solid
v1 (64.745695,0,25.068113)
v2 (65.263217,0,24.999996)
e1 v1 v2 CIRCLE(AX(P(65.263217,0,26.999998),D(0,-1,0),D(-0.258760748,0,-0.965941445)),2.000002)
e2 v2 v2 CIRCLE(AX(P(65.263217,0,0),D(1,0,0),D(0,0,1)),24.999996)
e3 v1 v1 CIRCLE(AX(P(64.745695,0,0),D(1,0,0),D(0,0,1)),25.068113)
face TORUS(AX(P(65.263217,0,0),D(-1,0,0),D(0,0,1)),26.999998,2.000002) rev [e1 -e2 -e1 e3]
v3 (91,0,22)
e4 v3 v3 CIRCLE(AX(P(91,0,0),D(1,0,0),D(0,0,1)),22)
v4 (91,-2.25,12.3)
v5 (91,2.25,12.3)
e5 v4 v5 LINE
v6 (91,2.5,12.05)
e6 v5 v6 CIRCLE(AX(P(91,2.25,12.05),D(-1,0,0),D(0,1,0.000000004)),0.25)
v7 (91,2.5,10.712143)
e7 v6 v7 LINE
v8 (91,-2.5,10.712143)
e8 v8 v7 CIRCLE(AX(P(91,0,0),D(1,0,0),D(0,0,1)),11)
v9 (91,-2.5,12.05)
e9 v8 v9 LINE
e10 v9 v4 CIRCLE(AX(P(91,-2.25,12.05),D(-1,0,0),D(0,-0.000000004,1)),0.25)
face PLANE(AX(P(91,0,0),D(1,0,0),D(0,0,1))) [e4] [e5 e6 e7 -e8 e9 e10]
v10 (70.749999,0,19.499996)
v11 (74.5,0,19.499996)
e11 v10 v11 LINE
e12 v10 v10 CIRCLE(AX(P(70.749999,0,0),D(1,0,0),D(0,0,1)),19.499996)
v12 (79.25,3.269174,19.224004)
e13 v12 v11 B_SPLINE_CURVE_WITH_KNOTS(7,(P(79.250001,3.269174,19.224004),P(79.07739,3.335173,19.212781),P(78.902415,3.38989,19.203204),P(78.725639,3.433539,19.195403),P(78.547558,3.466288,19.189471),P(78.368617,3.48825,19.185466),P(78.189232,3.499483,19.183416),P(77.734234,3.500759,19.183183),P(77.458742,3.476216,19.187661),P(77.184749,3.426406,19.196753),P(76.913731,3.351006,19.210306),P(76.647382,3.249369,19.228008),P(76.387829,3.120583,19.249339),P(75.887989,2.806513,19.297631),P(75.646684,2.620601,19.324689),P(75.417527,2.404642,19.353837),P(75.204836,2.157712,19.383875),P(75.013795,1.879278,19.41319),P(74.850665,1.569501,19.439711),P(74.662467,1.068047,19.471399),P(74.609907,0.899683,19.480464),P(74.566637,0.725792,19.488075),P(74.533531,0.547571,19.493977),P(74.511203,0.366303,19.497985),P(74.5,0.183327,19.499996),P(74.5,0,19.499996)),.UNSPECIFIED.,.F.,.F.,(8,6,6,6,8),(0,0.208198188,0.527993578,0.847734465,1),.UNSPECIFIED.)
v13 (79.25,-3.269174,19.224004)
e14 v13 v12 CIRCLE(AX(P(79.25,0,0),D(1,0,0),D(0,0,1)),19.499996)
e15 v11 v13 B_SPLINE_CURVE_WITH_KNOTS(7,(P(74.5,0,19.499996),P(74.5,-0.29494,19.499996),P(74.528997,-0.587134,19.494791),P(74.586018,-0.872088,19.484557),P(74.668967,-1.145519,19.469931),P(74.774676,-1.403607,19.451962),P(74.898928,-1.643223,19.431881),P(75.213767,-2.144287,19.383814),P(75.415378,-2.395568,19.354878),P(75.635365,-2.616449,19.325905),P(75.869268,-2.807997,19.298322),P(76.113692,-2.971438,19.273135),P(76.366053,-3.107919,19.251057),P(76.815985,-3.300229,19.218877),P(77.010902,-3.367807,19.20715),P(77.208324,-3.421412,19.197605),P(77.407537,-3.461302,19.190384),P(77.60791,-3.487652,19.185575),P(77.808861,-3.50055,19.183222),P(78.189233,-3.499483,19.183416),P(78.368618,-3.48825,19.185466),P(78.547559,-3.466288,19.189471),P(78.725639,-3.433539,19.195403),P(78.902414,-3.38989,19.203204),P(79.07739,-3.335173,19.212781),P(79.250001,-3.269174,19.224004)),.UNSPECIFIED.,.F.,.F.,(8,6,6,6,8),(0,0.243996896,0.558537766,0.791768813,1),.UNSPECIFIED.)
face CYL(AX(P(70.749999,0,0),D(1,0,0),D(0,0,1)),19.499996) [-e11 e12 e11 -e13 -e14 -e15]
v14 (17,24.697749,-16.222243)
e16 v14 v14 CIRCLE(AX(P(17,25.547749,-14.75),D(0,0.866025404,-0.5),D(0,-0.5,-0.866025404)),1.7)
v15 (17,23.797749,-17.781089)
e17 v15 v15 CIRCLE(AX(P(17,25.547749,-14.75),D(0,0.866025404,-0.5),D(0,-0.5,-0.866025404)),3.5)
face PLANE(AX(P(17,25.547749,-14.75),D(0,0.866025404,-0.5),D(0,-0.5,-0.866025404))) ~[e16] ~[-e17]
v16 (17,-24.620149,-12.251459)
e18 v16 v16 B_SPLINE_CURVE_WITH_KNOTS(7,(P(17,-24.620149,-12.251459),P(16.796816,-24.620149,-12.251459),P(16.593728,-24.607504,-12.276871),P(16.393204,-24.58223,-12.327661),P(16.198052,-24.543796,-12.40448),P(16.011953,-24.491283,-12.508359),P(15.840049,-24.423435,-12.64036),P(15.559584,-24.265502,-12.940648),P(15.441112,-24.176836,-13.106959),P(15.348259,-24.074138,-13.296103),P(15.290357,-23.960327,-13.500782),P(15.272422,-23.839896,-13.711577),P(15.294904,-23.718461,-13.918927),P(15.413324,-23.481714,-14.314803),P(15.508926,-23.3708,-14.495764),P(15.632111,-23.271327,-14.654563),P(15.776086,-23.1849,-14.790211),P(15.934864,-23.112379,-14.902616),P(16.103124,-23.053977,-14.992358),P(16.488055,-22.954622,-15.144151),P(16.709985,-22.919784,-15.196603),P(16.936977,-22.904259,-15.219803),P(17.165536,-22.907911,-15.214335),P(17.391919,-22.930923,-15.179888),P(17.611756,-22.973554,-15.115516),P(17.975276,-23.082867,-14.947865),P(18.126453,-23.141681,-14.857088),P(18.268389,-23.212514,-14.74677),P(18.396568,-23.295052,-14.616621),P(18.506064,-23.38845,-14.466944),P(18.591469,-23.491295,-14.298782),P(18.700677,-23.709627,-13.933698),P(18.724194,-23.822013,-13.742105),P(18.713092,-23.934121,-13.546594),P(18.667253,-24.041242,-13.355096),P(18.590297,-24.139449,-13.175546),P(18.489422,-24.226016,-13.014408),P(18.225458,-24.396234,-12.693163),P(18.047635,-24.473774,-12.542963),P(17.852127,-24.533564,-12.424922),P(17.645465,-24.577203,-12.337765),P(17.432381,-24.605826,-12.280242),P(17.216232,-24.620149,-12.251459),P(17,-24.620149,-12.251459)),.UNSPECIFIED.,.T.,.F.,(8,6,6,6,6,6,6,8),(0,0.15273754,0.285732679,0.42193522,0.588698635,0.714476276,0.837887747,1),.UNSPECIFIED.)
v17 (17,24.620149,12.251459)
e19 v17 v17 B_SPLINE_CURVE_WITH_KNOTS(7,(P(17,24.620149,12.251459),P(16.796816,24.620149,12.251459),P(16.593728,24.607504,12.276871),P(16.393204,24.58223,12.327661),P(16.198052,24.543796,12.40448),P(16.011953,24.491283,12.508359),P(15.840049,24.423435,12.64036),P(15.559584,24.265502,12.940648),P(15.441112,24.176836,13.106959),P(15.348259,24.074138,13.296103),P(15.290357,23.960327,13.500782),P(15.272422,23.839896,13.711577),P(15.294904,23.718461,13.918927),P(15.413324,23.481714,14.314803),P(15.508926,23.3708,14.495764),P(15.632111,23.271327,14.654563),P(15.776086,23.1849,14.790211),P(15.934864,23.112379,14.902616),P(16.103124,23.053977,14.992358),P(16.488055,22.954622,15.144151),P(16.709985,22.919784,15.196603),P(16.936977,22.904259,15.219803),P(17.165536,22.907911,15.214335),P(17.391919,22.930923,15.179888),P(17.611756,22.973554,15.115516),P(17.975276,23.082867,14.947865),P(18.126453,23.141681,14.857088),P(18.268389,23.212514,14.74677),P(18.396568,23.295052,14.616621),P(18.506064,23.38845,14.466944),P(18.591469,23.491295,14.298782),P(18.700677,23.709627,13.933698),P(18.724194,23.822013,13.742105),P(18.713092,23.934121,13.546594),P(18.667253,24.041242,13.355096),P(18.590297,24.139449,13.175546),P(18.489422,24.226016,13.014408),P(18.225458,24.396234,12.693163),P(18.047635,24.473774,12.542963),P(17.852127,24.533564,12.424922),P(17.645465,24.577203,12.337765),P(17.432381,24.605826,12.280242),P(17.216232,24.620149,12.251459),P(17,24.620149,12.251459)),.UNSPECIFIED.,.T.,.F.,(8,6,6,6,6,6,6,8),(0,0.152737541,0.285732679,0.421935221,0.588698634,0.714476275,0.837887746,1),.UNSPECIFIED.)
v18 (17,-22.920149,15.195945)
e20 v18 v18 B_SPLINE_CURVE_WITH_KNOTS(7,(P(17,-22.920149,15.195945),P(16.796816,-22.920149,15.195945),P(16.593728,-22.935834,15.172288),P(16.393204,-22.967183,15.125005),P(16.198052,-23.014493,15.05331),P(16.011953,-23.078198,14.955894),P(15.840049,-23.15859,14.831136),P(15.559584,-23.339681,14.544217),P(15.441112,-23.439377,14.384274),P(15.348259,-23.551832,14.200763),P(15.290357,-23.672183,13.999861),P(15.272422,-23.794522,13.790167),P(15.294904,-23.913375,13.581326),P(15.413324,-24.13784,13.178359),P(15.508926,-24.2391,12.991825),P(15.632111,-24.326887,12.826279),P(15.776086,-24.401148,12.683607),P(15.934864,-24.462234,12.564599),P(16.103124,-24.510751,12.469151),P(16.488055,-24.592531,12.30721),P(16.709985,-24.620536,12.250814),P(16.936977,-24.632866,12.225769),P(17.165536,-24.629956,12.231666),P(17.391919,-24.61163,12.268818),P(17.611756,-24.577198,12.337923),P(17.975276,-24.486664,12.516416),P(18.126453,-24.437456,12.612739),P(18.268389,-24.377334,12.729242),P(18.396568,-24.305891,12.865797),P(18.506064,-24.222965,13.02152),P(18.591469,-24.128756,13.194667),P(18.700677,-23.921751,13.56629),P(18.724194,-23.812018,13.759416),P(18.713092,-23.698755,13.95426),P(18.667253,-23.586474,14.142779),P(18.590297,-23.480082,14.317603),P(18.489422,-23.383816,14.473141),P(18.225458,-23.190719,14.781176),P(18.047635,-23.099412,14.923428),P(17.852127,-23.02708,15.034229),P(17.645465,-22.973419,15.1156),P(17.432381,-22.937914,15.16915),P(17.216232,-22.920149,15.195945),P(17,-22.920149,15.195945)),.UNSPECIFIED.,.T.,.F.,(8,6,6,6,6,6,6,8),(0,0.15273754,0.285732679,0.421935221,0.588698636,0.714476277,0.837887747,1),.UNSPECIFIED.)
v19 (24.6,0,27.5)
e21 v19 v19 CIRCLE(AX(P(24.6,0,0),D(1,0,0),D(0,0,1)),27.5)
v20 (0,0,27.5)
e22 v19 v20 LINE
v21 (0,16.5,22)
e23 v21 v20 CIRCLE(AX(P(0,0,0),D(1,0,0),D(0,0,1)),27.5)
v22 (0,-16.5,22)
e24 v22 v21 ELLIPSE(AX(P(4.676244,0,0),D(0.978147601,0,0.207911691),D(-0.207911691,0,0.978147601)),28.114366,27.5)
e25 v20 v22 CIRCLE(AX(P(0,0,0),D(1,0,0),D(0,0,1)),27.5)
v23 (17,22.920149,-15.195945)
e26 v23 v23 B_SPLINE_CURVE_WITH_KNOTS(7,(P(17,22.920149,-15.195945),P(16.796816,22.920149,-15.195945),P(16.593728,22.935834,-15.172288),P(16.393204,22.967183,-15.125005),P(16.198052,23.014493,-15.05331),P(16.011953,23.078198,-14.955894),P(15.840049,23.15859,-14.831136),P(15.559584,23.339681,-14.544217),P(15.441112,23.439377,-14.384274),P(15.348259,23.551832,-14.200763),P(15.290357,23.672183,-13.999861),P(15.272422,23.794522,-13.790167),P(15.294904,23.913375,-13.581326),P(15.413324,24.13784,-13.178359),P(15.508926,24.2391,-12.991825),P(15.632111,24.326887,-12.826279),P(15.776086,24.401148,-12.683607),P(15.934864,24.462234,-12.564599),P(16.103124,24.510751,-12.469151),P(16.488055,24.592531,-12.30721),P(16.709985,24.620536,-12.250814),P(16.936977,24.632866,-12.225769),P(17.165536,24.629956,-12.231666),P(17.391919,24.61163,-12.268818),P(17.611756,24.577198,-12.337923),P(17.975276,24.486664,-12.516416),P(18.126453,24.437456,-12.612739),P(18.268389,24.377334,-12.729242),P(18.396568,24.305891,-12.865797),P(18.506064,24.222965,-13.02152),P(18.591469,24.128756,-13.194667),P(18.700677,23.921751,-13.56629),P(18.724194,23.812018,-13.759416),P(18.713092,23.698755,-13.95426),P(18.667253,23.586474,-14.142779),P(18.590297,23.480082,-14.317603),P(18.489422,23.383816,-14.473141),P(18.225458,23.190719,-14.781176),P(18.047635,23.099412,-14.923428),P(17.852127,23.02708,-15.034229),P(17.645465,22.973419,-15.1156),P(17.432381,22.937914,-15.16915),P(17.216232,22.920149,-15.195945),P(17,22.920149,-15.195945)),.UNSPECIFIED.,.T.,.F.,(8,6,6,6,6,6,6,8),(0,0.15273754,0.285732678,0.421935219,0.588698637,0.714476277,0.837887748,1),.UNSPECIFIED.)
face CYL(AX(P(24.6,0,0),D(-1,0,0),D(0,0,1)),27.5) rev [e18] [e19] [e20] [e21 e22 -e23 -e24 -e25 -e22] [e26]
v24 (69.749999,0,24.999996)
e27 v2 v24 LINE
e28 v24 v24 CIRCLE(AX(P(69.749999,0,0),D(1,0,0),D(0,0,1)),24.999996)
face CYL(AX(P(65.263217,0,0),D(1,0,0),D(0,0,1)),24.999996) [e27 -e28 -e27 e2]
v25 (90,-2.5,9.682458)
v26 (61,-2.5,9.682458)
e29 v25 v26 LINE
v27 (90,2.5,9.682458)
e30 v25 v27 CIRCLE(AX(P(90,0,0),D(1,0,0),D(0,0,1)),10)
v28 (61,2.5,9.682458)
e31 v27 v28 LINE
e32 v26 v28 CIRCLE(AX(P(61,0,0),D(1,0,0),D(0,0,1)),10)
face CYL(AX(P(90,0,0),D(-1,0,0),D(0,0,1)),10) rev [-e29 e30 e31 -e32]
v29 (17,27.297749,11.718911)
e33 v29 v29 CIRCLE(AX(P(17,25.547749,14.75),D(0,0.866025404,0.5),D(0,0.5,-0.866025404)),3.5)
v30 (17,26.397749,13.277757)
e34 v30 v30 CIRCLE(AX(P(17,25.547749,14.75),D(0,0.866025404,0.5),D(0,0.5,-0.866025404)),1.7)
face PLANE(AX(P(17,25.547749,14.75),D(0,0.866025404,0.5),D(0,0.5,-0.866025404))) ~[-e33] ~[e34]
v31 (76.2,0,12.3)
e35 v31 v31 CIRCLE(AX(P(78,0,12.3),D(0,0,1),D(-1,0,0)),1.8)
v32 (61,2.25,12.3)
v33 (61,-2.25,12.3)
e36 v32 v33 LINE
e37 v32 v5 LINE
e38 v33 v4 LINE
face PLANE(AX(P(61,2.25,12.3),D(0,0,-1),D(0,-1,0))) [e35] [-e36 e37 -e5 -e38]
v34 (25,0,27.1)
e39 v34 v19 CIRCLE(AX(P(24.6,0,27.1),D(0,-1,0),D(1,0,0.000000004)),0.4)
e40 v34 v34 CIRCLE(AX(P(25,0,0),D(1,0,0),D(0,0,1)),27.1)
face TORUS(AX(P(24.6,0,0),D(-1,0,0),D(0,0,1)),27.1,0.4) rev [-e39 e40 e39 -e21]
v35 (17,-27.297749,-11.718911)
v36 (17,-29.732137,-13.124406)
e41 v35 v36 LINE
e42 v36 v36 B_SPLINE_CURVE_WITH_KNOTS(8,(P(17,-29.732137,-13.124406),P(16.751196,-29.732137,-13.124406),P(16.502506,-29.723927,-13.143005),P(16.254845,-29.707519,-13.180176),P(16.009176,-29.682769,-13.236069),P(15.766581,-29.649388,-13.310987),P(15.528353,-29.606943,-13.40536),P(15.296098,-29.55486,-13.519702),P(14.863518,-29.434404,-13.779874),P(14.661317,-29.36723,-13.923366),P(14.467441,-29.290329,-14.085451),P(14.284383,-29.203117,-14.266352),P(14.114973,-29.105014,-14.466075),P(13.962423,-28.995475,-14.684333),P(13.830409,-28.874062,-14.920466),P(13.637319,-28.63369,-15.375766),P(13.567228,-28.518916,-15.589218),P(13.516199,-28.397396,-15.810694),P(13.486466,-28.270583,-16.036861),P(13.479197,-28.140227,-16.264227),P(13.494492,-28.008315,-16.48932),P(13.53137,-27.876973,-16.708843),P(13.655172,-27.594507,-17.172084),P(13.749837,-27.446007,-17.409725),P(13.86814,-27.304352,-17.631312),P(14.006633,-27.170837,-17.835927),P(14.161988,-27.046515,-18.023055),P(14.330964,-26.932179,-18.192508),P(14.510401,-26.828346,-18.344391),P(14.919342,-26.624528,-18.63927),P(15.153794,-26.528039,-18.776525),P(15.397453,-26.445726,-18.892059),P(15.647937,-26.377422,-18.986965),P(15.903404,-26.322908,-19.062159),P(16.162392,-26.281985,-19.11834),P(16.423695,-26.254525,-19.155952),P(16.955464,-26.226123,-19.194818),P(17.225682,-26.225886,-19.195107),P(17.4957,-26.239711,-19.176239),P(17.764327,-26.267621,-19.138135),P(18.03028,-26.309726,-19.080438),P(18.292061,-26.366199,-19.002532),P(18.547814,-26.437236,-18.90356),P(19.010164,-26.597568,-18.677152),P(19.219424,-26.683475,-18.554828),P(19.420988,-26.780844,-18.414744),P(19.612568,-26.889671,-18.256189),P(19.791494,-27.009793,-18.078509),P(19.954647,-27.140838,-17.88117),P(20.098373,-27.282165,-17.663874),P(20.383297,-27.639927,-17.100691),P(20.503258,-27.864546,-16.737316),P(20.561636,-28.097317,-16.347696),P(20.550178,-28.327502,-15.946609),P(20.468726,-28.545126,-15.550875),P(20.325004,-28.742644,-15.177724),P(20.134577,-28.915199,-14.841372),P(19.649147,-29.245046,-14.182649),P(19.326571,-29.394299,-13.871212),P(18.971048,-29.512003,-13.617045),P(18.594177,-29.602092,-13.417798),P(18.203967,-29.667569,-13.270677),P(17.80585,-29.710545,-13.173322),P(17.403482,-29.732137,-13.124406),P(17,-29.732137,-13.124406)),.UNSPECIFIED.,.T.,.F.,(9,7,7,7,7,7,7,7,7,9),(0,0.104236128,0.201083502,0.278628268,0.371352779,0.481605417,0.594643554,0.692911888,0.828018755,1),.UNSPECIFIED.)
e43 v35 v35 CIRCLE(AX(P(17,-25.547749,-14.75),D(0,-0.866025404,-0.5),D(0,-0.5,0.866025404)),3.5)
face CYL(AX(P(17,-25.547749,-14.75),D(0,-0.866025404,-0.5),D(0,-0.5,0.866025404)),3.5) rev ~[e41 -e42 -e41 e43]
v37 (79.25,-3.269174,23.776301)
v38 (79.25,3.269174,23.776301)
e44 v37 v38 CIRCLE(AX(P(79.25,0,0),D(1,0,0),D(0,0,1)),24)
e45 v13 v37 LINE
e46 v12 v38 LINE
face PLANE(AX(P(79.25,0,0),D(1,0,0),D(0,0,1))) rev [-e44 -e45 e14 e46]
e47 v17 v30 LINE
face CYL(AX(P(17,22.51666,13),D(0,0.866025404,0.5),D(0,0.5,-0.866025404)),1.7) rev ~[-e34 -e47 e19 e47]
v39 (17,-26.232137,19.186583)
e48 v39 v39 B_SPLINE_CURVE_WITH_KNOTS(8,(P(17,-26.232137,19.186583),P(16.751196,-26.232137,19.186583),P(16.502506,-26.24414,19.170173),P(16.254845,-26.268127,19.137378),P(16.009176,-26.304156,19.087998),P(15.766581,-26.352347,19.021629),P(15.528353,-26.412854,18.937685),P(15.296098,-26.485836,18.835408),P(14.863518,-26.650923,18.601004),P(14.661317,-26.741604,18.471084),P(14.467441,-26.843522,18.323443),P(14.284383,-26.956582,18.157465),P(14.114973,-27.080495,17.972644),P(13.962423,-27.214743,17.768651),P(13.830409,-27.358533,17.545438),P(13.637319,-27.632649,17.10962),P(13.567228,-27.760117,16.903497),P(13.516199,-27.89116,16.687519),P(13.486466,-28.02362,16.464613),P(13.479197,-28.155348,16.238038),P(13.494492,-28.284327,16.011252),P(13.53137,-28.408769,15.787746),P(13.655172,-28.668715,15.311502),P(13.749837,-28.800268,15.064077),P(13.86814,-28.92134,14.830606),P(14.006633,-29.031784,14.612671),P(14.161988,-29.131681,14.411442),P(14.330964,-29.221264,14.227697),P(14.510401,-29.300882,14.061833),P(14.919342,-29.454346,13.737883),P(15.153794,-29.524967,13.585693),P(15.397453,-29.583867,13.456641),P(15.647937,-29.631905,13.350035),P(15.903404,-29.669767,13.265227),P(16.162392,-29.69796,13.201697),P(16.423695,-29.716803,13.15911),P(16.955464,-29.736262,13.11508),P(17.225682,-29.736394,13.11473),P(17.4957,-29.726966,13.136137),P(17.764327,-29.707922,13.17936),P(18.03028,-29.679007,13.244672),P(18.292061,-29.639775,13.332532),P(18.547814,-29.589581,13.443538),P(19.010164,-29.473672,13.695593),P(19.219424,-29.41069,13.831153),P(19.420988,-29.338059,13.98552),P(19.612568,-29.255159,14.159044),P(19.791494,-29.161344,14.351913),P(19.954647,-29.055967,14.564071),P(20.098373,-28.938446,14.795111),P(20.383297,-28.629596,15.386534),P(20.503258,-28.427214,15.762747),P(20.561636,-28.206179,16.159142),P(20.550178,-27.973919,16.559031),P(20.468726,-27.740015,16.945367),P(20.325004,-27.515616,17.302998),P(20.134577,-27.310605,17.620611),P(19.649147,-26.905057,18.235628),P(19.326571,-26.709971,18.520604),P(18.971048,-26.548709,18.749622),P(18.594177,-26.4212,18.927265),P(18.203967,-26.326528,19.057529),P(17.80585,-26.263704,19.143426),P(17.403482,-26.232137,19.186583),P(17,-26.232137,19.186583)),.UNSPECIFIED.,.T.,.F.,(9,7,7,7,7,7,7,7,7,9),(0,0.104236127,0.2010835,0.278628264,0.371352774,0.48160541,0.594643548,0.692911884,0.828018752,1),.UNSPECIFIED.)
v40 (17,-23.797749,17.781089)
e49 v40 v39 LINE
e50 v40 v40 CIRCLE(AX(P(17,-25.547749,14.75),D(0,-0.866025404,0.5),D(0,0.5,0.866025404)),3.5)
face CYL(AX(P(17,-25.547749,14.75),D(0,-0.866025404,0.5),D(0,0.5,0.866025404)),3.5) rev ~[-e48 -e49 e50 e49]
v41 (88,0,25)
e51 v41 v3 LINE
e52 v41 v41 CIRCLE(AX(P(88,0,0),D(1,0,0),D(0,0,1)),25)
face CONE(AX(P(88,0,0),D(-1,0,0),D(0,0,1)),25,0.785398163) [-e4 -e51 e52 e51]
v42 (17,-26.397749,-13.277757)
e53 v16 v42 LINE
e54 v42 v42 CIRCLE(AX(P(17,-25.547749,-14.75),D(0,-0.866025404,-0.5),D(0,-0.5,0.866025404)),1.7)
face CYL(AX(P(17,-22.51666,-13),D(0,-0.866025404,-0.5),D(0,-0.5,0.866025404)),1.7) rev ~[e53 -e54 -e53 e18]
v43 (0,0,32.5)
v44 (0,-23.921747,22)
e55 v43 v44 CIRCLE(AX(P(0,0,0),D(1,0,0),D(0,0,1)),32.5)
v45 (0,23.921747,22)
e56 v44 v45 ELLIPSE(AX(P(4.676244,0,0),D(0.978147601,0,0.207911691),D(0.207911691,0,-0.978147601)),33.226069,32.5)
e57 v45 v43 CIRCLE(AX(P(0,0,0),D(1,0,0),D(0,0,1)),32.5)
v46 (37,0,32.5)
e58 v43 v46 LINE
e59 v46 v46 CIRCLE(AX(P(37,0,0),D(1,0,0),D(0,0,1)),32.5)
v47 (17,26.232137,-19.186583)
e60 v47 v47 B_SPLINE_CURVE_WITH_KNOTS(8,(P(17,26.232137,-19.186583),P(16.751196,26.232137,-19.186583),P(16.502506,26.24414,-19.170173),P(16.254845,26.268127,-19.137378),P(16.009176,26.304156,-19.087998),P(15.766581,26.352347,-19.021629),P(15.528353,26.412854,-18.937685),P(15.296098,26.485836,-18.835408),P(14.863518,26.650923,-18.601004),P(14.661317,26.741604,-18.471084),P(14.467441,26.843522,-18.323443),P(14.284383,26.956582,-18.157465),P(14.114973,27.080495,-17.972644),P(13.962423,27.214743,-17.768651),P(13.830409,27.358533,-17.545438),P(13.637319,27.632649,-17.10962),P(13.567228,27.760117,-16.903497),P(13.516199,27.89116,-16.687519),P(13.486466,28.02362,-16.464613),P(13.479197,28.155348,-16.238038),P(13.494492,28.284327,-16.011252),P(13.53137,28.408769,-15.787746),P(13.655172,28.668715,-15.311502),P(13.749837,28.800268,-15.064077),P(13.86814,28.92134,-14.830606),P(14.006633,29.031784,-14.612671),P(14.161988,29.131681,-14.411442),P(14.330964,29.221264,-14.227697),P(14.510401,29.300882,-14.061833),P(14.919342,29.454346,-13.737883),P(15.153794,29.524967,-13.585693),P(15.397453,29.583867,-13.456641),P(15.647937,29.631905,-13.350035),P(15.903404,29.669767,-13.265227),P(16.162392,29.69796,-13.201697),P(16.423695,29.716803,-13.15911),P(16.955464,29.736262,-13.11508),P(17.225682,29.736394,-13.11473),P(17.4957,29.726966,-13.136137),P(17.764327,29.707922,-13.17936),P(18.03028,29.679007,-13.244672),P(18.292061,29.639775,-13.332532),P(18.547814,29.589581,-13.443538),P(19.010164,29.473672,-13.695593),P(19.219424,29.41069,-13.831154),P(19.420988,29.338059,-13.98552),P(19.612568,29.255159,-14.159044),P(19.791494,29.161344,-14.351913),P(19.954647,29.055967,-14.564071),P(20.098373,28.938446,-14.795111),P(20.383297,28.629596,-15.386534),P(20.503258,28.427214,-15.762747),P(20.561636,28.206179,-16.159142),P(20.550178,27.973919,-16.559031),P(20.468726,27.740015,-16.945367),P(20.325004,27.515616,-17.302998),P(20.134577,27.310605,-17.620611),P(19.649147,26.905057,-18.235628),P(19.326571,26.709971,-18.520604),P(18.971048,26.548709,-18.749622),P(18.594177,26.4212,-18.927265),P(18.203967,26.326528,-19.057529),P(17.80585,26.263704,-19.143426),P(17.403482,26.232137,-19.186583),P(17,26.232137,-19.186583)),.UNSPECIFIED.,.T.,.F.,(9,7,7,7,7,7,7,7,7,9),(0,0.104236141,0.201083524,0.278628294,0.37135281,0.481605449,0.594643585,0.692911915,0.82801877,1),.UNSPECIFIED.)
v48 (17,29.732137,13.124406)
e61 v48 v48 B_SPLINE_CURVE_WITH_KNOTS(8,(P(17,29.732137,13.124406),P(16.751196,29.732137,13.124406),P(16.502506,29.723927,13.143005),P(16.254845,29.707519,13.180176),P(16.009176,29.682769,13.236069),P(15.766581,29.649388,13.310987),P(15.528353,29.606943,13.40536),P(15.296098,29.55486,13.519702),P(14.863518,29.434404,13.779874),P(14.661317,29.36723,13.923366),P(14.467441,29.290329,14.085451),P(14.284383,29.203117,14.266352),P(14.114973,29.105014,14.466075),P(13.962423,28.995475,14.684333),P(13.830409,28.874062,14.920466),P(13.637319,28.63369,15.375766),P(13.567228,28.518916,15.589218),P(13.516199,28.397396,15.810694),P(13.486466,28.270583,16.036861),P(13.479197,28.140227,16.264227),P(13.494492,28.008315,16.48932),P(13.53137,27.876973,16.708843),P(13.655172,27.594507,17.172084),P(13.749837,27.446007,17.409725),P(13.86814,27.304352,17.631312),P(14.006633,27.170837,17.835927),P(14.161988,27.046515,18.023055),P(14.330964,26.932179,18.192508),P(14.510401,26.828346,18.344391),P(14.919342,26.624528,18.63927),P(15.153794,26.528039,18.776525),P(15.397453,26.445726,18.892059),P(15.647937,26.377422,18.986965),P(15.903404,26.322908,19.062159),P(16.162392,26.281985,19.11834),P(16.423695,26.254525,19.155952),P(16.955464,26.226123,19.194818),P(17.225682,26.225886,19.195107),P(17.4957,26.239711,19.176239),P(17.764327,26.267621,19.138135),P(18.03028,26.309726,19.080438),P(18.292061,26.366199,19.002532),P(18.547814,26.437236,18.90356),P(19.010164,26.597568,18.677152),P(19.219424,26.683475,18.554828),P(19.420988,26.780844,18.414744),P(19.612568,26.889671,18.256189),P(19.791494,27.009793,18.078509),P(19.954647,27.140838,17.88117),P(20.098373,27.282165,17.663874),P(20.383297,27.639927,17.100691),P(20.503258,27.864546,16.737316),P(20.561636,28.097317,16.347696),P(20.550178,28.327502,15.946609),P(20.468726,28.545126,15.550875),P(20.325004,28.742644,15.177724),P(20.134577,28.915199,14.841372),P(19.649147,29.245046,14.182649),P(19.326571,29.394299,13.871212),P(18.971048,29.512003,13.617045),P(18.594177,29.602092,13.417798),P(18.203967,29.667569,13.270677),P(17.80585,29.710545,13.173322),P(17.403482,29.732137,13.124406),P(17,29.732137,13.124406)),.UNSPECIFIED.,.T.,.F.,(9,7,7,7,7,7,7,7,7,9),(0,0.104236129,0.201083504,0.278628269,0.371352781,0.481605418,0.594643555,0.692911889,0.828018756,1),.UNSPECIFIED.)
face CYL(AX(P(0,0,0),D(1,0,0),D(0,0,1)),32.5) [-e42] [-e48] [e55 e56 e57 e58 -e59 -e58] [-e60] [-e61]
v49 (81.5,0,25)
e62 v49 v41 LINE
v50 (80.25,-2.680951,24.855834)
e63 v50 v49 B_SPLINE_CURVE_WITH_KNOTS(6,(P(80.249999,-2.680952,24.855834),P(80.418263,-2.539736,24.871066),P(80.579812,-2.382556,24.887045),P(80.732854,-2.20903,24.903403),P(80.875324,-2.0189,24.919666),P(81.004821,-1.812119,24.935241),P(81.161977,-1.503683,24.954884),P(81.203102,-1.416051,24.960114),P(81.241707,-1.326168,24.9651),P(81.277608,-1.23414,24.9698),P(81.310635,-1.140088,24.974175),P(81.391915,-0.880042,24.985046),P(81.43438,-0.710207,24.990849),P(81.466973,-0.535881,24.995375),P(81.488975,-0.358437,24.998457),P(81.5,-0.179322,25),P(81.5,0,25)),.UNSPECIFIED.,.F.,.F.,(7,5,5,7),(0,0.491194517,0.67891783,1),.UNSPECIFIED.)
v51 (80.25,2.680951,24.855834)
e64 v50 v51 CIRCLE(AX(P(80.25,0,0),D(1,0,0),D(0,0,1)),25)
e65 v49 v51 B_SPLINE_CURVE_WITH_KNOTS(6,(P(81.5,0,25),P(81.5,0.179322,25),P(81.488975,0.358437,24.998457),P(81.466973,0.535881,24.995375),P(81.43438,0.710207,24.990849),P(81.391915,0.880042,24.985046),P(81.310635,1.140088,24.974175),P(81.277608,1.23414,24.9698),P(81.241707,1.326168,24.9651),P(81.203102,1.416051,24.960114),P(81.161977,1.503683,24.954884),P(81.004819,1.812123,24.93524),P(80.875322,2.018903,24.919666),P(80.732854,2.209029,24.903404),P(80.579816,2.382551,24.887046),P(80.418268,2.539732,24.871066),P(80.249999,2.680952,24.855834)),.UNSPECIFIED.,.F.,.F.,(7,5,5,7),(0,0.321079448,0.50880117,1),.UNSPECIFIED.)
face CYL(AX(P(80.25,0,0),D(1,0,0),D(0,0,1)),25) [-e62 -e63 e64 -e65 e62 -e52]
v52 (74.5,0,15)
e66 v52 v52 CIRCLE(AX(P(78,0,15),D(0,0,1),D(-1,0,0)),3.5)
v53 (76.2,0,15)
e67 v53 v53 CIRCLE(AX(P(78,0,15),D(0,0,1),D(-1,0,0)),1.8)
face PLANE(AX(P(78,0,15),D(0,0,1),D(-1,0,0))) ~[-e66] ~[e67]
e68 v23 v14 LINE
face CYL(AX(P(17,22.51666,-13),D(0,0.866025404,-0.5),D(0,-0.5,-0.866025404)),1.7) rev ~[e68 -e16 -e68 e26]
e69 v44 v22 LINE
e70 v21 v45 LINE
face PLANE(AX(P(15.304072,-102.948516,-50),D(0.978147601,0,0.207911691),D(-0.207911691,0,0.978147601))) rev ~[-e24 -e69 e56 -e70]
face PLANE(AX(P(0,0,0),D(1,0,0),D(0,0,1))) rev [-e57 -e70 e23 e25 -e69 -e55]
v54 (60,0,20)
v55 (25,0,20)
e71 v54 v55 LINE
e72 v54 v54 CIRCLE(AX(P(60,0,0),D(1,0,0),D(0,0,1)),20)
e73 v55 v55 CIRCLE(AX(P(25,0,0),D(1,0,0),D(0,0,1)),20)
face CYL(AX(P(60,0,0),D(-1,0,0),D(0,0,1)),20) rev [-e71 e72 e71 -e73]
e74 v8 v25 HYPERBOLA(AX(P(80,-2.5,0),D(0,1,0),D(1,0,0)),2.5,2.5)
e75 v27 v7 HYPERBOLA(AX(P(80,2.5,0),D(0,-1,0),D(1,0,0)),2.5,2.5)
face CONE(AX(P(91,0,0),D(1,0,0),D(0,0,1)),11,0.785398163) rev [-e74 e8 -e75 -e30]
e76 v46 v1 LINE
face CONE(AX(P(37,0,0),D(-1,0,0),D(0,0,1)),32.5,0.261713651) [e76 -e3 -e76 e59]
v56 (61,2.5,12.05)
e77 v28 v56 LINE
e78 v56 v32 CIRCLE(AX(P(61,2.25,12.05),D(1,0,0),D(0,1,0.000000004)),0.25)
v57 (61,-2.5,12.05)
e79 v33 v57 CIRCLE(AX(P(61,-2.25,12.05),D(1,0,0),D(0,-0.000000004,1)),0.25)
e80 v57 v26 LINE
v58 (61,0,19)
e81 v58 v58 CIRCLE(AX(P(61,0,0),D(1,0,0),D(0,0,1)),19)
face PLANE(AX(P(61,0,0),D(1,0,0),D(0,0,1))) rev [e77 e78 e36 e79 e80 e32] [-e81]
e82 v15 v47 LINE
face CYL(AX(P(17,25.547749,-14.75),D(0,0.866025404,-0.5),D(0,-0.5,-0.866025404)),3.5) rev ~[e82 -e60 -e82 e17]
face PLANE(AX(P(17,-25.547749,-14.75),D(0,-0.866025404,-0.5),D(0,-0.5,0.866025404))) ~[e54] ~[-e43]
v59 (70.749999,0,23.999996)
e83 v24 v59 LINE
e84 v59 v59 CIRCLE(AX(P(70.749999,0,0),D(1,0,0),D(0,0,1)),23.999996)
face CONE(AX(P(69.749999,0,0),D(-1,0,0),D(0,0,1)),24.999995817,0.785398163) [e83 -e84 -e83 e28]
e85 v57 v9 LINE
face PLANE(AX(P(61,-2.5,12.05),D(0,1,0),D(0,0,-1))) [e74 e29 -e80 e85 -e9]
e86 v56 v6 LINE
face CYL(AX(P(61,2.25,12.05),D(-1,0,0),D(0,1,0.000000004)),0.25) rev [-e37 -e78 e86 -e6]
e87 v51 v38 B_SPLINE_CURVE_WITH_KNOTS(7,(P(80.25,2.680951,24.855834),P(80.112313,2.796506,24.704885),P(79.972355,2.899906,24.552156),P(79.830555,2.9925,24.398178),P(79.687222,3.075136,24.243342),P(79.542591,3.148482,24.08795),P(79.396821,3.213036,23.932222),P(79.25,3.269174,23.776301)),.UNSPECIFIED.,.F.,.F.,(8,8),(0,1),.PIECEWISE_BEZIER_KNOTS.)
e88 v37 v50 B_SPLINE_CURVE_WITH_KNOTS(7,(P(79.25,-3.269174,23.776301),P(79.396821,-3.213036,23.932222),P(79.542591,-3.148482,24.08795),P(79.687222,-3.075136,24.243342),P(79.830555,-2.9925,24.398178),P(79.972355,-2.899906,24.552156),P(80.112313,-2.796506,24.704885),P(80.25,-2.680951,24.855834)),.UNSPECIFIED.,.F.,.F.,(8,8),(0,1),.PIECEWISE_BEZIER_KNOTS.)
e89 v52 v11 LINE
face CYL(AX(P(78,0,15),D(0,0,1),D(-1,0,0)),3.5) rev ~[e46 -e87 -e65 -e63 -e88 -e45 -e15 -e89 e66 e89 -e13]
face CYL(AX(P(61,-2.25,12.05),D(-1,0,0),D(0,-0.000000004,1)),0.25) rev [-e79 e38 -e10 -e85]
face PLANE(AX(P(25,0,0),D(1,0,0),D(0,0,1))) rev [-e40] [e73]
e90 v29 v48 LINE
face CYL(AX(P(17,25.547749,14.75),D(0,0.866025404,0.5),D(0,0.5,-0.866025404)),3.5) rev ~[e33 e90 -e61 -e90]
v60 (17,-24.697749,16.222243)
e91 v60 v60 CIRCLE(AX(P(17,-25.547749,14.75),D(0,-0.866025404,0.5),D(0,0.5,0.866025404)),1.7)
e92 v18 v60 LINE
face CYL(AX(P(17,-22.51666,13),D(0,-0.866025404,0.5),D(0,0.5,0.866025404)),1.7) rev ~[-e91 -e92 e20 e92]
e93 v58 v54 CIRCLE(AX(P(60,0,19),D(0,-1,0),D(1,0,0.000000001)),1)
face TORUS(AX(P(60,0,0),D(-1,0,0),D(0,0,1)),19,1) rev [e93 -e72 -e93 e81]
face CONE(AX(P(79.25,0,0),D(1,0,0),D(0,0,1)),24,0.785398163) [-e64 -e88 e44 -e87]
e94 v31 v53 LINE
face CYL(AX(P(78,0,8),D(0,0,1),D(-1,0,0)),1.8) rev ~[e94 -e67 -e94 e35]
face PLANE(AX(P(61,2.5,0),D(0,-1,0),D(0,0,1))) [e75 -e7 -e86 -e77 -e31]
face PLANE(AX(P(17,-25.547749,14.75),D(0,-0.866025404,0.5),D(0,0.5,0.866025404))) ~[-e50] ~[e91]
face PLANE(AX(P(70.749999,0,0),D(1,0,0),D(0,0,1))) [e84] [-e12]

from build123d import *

# Parameters (mm, degrees)
CUT_EXTRUDE_12_DEPTH      = 102.948516419
CUT_EXTRUDE_12_DEPTH_BACK = 102.948516419
CUT_EXTRUDE_START         = 61
CUT_EXTRUDE_5_R0_25_DEPTH = 31


with BuildPart() as part:
    # Эскиз1 → Revolve 289 (revolve)
    with BuildSketch(Plane.XY, mode=Mode.PRIVATE) as revolve_289_sk:
        with BuildLine():
            Line((0, 32.5), (37, 32.5))
            Line((37, 32.5), (64.745695, 25.068113))
            ThreePointArc((64.745695, 25.068113), (65.002224223, 25.017098236), (65.263217049, 24.999995817))
            Line((65.263217049, 24.999995817), (69.749999449, 24.999995817))
            Line((69.749999449, 24.999995817), (70.749999449, 23.999995817))
            Line((70.749999449, 23.999995817), (70.749999449, 19.499995817))
            Line((70.749999449, 19.499995817), (79.25, 19.499995817))
            Line((79.25, 19.499995817), (79.25, 24))
            Line((79.25, 24), (80.25, 25))
            Line((80.25, 25), (88, 25))
            Line((88, 25), (91, 22))
            Line((91, 22), (91, 11))
            Line((91, 11), (90, 10))
            Line((90, 10), (61, 10))
            Line((61, 10), (61, 19))
            ThreePointArc((61, 19), (60.707106781, 19.707106781), (60, 20))
            Line((60, 20), (25, 20))
            Line((25, 20), (25, 27.1))
            ThreePointArc((25, 27.1), (24.882842712, 27.382842712), (24.6, 27.5))
            Line((24.6, 27.5), (0, 27.5))
            Line((0, 27.5), (0, 32.5))
        make_face()
    revolve(revolve_289_sk.sketch.rotate(Axis((0, 0, 0), (1, 0, 0)), 90), axis=Axis((0, 0, 0), (1, 0, 0)))

    # Эскиз2 → Наклон торца 12 градусов (cut, two sides: drawn at the far end of the back side and taken through both)
    with BuildSketch(Plane(origin=(0, 0, 0), x_dir=(1, 0, 0), z_dir=(0, 1, 0)).offset(-CUT_EXTRUDE_12_DEPTH_BACK)):
        Polygon((-25, 50), (15.30407244, 50), (-5.951583727, -50), (-25, -50), align=None)
    extrude(amount=CUT_EXTRUDE_12_DEPTH + CUT_EXTRUDE_12_DEPTH_BACK, mode=Mode.SUBTRACT)

    # Эскиз3 → Паз 5 R0.25 (cut)
    with BuildSketch(Plane(origin=(0, 0, 0), x_dir=(0, 0, -1), z_dir=(1, 0, 0)).offset(CUT_EXTRUDE_START)):
        with BuildLine():
            Line((0, -2.5), (0, 2.5))
            Line((0, 2.5), (-12.05, 2.5))
            ThreePointArc((-12.05, 2.5), (-12.226776695, 2.426776695), (-12.3, 2.25))
            Line((-12.3, 2.25), (-12.3, -2.25))
            ThreePointArc((-12.3, -2.25), (-12.226776695, -2.426776695), (-12.05, -2.5))
            Line((-12.05, -2.5), (0, -2.5))
        make_face()
    extrude(amount=CUT_EXTRUDE_5_R0_25_DEPTH, mode=Mode.SUBTRACT)

    # Эскиз4 → Cut-Revolve M4 30 -1 (revolve, cut)
    with BuildSketch(Plane(origin=(0, 0, 0), x_dir=(1, 0, 0), z_dir=(0, -0.49999999999999994, 0.8660254037844387)), mode=Mode.PRIVATE) as cut_revolve_m4_30_1_sk:
        Polygon((17, -26), (18.7, -26), (18.7, -29.5), (20.5, -29.5), (20.5, -40), (17, -40), align=None)
    revolve(cut_revolve_m4_30_1_sk.sketch.rotate(Axis((17, -17.320508076, -10), (0, -0.8660254037844387, -0.49999999999999994)), 90), axis=Axis((17, -17.320508076, -10), (0, -0.8660254037844387, -0.49999999999999994)), mode=Mode.SUBTRACT)

    # Эскиз5 → Cut-Revolve M4 30 1 2 (revolve, cut)
    with BuildSketch(Plane(origin=(0, 0, 0), x_dir=(1, 0, 0), z_dir=(0, -0.49999999999999994, 0.8660254037844387)), mode=Mode.PRIVATE) as cut_revolve_m4_30_1_2_sk:
        Polygon((17, 26), (18.7, 26), (18.7, 29.5), (20.5, 29.5), (20.5, 40), (17, 40), align=None)
    revolve(cut_revolve_m4_30_1_2_sk.sketch.rotate(Axis((17, 17.320508076, 10), (0, 0.8660254037844387, 0.49999999999999994)), 90), axis=Axis((17, 17.320508076, 10), (0, 0.8660254037844387, 0.49999999999999994)), mode=Mode.SUBTRACT)

    # Эскиз6 → Cut-Revolve M4 150 -1 (revolve, cut)
    with BuildSketch(Plane(origin=(0, 0, 0), x_dir=(1, 0, 0), z_dir=(0, -0.49999999999999994, -0.8660254037844387)), mode=Mode.PRIVATE) as cut_revolve_m4_150_1_sk:
        Polygon((17, -26), (18.7, -26), (18.7, -29.5), (20.5, -29.5), (20.5, -40), (17, -40), align=None)
    revolve(cut_revolve_m4_150_1_sk.sketch.rotate(Axis((17, 17.320508076, -10), (0, 0.8660254037844387, -0.49999999999999994)), 90), axis=Axis((17, 17.320508076, -10), (0, 0.8660254037844387, -0.49999999999999994)), mode=Mode.SUBTRACT)

    # Эскиз7 → Cut-Revolve M4 150 1 2 (revolve, cut)
    with BuildSketch(Plane(origin=(0, 0, 0), x_dir=(1, 0, 0), z_dir=(0, -0.49999999999999994, -0.8660254037844387)), mode=Mode.PRIVATE) as cut_revolve_m4_150_1_2_sk:
        Polygon((17, 26), (18.7, 26), (18.7, 29.5), (20.5, 29.5), (20.5, 40), (17, 40), align=None)
    revolve(cut_revolve_m4_150_1_2_sk.sketch.rotate(Axis((17, -17.320508076, 10), (0, -0.8660254037844387, 0.49999999999999994)), 90), axis=Axis((17, -17.320508076, 10), (0, -0.8660254037844387, 0.49999999999999994)), mode=Mode.SUBTRACT)

    # Эскиз8 → Радиальное отверстие 3.6 цековка 7 (revolve, cut)
    with BuildSketch(Plane(origin=(0, 0, 0), x_dir=(1, 0, 0), z_dir=(0, 1, 0)), mode=Mode.PRIVATE) as cut_revolve_3_6_7_sk:
        Polygon((78, -8), (79.8, -8), (79.8, -15), (81.5, -15), (81.5, -35), (78, -35), align=None)
    revolve(cut_revolve_3_6_7_sk.sketch.rotate(Axis((78, 0, 0), (0, 0, 1)), 180), axis=Axis((78, 0, 0), (0, 0, 1)), mode=Mode.SUBTRACT)


solid = part.part
